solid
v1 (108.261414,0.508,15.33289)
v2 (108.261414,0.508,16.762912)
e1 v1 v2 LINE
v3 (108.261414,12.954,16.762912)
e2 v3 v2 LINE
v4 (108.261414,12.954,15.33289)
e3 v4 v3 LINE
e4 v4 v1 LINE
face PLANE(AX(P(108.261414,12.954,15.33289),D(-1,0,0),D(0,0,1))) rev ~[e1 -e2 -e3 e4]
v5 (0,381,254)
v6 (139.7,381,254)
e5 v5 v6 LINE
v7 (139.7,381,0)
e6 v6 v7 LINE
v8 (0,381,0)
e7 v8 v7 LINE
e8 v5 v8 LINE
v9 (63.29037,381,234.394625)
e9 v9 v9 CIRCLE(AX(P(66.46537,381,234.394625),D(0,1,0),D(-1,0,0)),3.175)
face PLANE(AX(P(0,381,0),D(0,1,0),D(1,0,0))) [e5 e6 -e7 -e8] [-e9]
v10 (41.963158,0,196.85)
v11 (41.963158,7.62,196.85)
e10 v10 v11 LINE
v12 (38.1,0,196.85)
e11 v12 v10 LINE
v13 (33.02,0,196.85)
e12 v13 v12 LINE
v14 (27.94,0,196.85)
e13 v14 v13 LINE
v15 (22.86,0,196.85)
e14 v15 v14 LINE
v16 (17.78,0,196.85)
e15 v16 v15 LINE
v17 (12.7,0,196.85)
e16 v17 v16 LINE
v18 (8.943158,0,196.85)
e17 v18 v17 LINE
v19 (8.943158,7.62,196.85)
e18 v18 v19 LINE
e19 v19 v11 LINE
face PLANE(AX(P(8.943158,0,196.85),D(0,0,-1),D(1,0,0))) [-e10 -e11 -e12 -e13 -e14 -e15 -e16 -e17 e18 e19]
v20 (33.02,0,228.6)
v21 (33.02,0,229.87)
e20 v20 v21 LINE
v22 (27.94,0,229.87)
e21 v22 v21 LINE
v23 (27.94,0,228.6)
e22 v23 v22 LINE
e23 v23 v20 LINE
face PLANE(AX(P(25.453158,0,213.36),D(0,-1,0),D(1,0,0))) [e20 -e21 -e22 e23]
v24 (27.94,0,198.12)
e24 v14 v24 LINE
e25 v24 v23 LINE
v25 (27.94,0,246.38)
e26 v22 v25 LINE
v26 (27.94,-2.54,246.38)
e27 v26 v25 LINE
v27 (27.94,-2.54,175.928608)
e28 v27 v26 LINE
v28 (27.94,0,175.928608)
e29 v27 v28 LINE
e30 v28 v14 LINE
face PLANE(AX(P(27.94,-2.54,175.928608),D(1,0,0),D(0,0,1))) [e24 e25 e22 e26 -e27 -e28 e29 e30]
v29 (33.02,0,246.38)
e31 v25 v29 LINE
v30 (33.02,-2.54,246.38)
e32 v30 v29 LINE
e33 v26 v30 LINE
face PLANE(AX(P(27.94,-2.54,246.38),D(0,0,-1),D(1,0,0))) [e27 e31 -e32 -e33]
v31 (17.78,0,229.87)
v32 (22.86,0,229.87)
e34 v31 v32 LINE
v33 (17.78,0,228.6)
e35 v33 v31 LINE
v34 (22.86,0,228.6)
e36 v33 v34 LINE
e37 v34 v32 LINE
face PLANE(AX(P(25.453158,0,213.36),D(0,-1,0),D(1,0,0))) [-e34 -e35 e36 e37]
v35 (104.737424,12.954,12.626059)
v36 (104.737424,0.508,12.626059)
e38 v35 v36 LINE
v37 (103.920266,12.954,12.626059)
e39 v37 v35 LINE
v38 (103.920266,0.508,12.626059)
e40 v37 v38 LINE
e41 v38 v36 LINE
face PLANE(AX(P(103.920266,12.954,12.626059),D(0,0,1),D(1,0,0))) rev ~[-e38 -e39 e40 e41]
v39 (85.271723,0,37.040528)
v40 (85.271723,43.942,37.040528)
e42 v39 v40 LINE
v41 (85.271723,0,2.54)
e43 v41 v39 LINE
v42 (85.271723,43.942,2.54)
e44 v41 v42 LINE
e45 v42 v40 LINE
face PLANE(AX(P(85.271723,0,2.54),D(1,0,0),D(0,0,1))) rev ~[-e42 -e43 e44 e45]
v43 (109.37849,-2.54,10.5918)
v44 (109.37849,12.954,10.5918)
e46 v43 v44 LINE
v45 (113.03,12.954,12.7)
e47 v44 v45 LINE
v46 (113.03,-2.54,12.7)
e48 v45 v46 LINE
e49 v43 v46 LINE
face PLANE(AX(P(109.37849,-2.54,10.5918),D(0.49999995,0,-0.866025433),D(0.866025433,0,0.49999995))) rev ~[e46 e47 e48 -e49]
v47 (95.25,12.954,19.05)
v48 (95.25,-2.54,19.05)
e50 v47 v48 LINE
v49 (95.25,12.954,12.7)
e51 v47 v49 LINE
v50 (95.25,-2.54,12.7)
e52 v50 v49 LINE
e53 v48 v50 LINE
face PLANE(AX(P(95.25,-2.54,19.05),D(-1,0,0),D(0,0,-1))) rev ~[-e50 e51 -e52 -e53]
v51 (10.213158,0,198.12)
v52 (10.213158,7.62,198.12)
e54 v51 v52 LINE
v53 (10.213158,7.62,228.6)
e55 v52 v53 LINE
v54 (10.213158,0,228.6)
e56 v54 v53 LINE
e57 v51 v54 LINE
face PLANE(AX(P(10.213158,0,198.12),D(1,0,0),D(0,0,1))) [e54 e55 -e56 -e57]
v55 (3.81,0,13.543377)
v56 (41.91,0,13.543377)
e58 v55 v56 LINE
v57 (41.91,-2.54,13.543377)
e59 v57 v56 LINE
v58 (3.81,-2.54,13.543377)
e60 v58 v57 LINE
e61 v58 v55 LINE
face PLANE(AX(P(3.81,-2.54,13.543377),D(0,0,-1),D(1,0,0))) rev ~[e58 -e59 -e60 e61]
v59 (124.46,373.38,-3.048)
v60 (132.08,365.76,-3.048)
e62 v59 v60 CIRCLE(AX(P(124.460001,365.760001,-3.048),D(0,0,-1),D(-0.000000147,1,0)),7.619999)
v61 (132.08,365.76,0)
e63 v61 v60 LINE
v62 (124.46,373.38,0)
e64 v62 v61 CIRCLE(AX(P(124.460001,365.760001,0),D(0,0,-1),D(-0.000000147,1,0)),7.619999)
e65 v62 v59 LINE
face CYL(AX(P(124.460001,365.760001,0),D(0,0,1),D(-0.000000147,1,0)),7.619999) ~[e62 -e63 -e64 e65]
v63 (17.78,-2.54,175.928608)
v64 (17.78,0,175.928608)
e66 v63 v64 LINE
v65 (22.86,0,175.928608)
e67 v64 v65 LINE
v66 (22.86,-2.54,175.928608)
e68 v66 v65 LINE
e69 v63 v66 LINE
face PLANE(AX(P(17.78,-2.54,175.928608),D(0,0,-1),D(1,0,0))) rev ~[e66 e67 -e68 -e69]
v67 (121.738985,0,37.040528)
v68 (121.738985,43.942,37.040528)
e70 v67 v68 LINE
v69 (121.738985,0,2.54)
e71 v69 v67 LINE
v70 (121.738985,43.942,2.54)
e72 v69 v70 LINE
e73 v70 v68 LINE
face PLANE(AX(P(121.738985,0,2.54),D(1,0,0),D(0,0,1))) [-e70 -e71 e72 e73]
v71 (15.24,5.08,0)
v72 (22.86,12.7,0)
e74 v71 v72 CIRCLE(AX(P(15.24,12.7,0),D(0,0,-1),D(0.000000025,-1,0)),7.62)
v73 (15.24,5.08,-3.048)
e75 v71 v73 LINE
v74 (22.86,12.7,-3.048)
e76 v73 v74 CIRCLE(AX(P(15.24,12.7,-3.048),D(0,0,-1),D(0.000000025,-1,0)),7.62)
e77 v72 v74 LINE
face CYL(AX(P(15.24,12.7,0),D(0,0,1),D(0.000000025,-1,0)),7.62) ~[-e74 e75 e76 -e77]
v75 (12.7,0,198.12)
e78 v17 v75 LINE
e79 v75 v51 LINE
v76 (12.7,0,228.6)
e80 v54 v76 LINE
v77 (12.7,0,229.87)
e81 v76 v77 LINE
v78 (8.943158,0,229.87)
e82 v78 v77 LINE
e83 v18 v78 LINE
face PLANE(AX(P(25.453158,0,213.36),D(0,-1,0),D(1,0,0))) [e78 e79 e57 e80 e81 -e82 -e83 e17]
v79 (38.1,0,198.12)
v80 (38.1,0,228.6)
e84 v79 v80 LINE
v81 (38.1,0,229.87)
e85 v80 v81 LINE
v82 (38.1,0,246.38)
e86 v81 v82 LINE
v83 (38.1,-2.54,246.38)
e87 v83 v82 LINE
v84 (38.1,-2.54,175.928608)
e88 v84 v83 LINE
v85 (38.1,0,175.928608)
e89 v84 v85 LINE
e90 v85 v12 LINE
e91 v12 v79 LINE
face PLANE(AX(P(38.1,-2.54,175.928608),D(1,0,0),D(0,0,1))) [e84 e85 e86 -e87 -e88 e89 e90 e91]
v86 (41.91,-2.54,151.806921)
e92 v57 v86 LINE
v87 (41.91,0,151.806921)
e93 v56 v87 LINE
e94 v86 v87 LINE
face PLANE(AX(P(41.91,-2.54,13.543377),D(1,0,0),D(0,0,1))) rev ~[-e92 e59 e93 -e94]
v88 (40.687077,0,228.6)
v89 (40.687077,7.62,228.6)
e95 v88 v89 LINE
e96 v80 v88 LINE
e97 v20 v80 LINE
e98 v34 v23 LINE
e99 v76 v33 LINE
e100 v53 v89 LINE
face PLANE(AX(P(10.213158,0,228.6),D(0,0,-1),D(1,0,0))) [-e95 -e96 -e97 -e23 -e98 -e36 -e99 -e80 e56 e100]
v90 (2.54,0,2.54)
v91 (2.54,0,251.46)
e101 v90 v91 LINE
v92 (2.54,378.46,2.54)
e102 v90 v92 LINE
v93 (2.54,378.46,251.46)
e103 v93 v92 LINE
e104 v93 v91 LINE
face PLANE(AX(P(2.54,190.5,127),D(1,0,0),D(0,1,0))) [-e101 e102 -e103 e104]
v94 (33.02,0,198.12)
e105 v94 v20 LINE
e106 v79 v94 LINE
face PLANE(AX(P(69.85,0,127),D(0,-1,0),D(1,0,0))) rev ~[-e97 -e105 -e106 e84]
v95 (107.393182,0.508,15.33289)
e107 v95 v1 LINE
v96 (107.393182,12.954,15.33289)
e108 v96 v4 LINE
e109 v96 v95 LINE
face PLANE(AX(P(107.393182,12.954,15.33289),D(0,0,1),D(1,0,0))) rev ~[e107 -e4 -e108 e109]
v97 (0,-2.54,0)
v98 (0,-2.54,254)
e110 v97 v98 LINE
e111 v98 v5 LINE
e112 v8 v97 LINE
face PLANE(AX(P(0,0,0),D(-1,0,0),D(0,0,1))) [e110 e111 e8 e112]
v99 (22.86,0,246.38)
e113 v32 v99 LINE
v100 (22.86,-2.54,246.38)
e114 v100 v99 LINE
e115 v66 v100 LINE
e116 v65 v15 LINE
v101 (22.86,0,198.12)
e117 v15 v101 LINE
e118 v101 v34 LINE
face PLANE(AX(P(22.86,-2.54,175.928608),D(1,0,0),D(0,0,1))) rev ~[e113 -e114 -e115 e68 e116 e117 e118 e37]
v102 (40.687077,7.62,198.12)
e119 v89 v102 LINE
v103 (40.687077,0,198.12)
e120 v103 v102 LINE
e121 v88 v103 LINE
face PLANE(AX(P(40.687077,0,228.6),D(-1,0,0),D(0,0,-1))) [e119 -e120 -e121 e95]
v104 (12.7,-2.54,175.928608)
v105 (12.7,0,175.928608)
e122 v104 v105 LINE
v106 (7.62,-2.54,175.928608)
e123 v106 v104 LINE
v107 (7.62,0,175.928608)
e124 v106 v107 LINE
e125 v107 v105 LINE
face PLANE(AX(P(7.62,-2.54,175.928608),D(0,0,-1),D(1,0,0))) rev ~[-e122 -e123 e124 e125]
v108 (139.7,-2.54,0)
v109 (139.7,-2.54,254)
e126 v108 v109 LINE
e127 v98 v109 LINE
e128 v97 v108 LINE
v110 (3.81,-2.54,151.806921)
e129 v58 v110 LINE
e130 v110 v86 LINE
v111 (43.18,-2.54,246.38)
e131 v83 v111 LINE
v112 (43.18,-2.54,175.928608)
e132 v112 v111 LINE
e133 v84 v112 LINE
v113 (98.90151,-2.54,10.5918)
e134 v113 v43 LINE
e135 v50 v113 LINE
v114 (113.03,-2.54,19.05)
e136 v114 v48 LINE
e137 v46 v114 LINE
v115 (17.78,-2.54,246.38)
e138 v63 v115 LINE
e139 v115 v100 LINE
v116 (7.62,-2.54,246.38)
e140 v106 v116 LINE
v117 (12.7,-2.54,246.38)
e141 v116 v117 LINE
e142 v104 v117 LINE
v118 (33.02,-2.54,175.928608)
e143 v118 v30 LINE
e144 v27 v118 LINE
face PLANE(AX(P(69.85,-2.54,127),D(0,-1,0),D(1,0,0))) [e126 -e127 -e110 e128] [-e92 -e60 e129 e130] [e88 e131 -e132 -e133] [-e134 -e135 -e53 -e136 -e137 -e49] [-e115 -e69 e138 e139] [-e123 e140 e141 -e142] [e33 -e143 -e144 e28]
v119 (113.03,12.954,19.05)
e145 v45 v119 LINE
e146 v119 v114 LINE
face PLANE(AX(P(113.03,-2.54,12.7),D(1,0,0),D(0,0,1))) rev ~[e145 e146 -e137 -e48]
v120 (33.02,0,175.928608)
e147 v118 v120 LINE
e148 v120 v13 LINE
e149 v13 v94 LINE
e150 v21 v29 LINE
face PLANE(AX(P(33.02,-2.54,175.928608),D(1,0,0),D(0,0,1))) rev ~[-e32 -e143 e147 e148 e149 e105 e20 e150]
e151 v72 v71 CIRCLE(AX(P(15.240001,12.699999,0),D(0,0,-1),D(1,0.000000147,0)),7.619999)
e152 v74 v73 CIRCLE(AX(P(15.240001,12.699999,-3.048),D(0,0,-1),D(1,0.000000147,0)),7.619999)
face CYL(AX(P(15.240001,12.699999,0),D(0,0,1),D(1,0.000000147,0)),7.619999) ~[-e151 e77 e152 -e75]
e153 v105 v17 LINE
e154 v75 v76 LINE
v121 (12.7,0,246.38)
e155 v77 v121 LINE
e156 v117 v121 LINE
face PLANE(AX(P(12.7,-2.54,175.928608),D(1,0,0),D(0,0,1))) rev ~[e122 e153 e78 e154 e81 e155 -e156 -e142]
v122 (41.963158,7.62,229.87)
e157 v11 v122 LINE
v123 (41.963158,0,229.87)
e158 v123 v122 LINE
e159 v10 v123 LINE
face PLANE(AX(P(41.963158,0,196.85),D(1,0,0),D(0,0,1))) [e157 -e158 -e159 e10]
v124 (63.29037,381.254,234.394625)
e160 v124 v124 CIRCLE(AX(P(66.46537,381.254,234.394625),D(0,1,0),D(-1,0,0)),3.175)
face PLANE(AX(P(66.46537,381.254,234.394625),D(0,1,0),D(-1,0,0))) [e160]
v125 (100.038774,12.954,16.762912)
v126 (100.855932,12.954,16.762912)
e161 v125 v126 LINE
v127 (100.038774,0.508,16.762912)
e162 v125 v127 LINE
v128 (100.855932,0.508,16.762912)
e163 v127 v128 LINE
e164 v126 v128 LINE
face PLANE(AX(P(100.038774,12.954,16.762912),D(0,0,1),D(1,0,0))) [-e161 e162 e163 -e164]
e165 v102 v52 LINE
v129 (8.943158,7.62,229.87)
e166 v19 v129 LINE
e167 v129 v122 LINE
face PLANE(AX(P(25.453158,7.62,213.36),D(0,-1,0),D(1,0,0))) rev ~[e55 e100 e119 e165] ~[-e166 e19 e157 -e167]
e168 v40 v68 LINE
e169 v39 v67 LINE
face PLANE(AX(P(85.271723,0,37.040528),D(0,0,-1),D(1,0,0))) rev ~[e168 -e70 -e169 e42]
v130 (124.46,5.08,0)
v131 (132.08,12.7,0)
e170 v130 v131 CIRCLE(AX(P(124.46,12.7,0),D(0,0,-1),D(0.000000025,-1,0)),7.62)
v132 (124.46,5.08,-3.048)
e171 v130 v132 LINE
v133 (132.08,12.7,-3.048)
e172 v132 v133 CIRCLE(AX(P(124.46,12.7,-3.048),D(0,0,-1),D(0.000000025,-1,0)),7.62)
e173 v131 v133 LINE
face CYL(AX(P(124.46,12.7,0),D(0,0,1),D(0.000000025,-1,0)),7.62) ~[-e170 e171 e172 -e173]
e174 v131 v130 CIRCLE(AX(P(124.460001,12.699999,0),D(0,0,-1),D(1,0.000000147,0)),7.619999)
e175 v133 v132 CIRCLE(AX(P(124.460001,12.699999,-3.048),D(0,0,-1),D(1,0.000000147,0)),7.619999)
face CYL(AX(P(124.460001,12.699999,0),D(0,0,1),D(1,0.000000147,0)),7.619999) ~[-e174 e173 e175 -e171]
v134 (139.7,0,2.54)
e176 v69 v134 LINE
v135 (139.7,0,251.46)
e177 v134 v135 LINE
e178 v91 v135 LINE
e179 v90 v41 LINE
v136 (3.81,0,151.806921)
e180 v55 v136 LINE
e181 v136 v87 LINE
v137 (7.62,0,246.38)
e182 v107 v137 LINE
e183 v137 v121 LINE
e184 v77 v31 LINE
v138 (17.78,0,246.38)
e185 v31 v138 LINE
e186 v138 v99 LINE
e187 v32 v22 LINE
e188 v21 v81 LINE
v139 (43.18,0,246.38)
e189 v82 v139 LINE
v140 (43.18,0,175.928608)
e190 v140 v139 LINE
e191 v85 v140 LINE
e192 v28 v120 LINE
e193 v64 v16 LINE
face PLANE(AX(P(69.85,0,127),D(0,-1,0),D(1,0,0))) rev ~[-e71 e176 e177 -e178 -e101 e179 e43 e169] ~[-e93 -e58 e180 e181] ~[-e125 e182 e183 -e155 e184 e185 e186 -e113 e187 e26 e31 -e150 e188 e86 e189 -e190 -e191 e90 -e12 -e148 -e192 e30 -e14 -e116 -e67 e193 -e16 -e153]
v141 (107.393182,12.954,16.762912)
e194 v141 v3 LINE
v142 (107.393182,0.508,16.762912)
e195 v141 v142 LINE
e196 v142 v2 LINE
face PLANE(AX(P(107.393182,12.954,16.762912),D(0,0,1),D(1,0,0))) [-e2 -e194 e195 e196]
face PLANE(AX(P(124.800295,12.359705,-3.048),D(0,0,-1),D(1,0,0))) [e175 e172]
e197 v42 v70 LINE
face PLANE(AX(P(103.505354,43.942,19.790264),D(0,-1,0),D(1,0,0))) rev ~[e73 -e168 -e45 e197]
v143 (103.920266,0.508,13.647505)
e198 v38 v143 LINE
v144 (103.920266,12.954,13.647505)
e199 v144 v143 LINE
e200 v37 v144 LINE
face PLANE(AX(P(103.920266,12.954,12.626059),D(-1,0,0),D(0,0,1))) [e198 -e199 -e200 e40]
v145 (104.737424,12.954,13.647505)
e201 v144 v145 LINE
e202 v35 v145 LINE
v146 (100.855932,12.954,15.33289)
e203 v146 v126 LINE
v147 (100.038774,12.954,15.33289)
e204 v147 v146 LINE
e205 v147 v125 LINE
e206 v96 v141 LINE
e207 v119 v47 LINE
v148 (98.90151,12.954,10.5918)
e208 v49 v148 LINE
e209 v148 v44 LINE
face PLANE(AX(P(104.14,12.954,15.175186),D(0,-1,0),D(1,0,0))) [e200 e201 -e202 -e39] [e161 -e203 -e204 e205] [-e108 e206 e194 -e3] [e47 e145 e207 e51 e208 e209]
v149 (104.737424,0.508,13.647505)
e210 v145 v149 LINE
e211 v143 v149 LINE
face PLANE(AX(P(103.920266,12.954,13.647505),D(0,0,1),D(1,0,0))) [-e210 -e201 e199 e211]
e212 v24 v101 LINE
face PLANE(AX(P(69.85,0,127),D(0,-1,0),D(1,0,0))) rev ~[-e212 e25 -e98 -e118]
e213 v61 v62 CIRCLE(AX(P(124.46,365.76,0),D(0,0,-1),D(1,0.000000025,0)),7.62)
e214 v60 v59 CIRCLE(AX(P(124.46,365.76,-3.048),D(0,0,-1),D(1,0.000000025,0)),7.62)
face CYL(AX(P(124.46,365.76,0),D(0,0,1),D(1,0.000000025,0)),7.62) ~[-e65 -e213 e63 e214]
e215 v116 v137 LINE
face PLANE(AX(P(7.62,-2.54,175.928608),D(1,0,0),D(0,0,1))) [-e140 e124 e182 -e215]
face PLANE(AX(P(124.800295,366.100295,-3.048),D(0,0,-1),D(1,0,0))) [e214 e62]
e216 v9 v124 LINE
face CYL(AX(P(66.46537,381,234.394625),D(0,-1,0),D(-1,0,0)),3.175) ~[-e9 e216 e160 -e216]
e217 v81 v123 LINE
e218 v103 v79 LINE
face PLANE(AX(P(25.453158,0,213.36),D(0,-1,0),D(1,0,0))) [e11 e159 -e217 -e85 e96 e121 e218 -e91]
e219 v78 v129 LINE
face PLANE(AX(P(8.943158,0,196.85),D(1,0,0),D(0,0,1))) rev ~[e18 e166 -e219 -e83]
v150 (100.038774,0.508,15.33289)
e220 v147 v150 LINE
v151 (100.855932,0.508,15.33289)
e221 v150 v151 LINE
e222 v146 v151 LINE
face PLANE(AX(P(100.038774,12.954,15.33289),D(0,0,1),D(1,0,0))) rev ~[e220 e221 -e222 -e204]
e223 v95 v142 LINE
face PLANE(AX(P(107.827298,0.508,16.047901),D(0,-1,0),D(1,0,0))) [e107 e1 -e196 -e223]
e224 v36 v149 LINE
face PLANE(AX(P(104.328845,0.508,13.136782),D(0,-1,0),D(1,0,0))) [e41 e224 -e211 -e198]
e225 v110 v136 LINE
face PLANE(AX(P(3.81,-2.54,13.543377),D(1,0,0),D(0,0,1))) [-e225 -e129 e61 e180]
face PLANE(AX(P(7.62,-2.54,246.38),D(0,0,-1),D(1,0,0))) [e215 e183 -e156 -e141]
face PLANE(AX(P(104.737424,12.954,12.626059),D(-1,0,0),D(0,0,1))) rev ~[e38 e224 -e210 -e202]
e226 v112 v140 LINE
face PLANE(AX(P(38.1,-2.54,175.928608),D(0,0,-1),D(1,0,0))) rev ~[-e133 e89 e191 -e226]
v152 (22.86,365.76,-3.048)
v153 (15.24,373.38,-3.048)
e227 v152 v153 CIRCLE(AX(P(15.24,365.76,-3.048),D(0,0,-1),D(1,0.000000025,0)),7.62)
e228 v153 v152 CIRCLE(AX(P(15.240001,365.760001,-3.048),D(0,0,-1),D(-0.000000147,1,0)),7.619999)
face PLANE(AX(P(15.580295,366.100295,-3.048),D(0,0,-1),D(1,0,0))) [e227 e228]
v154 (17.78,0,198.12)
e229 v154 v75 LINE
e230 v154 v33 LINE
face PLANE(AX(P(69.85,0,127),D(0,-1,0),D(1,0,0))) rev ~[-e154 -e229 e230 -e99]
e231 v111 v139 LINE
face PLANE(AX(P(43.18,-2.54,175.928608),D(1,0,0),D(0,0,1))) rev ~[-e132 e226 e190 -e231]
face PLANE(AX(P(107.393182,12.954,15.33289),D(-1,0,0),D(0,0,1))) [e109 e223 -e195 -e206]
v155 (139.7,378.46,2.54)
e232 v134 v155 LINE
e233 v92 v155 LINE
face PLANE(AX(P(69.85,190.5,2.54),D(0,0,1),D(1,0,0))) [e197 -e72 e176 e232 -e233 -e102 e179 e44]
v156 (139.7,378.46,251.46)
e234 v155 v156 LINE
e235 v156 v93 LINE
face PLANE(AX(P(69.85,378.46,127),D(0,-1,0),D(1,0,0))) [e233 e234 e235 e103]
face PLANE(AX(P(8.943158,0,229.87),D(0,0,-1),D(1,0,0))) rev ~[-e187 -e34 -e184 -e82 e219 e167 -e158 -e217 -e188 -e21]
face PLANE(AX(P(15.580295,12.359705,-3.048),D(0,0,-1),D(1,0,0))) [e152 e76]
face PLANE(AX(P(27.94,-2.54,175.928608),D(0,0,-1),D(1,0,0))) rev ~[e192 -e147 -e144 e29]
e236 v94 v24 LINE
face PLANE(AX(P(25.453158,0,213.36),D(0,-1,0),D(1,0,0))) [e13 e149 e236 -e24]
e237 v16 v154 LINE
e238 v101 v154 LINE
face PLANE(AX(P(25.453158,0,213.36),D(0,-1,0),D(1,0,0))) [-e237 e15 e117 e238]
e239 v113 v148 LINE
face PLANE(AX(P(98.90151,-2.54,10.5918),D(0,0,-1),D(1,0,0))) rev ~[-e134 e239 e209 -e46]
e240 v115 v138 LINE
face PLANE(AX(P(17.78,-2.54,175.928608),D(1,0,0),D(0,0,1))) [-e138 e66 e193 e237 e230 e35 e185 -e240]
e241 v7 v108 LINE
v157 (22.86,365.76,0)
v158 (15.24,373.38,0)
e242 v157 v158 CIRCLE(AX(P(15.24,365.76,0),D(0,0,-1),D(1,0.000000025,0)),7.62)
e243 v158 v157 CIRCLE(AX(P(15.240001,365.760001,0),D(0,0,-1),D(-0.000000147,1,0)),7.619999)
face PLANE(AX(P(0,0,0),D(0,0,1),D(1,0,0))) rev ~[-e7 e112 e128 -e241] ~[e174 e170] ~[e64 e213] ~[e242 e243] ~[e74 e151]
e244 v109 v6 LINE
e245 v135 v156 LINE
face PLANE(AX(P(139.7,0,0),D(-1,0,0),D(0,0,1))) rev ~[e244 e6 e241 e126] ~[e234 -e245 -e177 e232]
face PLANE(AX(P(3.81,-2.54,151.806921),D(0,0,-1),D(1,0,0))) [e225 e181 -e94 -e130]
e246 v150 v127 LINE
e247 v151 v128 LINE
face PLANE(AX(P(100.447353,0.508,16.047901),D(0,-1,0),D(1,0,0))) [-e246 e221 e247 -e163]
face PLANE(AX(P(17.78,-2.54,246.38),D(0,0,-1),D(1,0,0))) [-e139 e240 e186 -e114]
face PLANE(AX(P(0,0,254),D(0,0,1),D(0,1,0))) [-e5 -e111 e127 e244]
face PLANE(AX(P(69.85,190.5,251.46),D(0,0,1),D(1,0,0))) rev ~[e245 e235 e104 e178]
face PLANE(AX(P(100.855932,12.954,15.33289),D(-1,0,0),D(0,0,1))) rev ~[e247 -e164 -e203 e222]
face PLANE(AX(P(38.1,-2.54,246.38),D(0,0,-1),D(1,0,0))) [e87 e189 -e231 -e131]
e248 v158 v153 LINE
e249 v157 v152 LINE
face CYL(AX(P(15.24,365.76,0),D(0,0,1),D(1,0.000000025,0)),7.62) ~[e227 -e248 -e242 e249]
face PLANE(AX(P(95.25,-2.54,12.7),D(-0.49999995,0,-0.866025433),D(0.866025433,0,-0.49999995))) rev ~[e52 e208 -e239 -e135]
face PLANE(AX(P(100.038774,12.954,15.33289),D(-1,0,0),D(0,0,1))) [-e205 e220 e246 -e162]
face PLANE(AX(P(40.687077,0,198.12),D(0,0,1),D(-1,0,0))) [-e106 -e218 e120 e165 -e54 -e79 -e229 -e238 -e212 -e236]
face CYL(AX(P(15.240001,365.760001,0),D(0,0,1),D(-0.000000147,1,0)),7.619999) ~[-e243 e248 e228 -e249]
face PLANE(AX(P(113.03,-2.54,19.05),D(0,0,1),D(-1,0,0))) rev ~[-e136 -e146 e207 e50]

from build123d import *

# Parameters (mm, degrees)
F0_W      = 139.7
F0_H      = 381
F1_DEPTH  = 2.54
F2_W      = 139.7
F2_H      = 254
F3_DEPTH  = 2.54
F4_W      = 381
F4_H      = 254
F5_DEPTH  = 2.54
F7_W      = 139.7
F7_H      = 254
F8_DEPTH  = 2.54
F10_W     = 139.7
F10_H     = 381
F11_DEPTH = 2.54
F12_W     = 5.08
F12_H     = 70.451392
F13_DEPTH = 2.54
F14_W     = 33.02
F14_H     = 33.02
F15_DEPTH = 7.62
F18_DEPTH = 2.54
F19_R     = 3.175
F20_DEPTH = 0.254
F22_DEPTH = 2.54
F24_DEPTH = 3.048
F25_W     = 38.1
F25_H     = 138.263544
F26_DEPTH = 2.54
F27_W     = 36.467261
F27_H     = 34.500528
F28_DEPTH = 43.942
F30_DEPTH = 12.954
F31_W     = 0.868231
F31_H     = 1.430023
F31_W_2   = 0.817157
F31_H_2   = 1.021446
F31_W_3   = 0.817158
F32_DEPTH = 12.446


with BuildPart() as f1:
    # F0 (on Top) → F1 (new body)
    with BuildSketch(Plane.XY):
        with Locations((69.85, 190.5)):
            Rectangle(F0_W, F0_H)
    extrude(amount=F1_DEPTH)

    # F2 (on Front) → F3 (join)
    with BuildSketch(Plane.XZ):
        with Locations((69.85, 127)):
            Rectangle(F2_W, F2_H)
    extrude(amount=F3_DEPTH)

    # F4 (on Right) → F5 (join)
    with BuildSketch(Plane.YZ):
        with Locations((190.5, 127)):
            Rectangle(F4_W, F4_H)
    extrude(amount=F5_DEPTH)

    # F7 (on offset) → F8 (join)
    with BuildSketch(Plane.XZ.offset(-381)):
        with Locations((69.85, 127)):
            Rectangle(F7_W, F7_H)
    extrude(amount=F8_DEPTH)

    # F10 (on offset) → F11 (join)
    with BuildSketch(Plane.XY.offset(254)):
        with Locations((69.85, 190.5)):
            Rectangle(F10_W, F10_H)
    extrude(amount=-F11_DEPTH)

    # F12 (on face) → F13 (cut)
    with BuildSketch(Plane.XZ.offset(2.54)):
        with Locations((40.64, 211.154304)):
            Rectangle(F12_W, F12_H)
        with Locations((30.48, 211.154304)):
            Rectangle(F12_W, F12_H)
        with Locations((20.32, 211.154304)):
            Rectangle(F12_W, F12_H)
        with Locations((10.16, 211.154304)):
            Rectangle(F12_W, F12_H)
    extrude(amount=-F13_DEPTH, mode=Mode.SUBTRACT)

    # F14 (on Front) → F15 (join)
    with BuildSketch(Plane.XZ):
        with Locations((25.453158, 213.36)):
            Rectangle(F14_W, F14_H)
        Polygon((10.213158, 228.6), (40.687077, 228.6), (40.687077, 198.12), (25.453158, 198.12), (10.213158, 198.12), align=None, mode=Mode.SUBTRACT)
    extrude(amount=-F15_DEPTH)

    # F17 (on offset) → F18 (cut)
    with BuildSketch(Plane.YZ.offset(139.7)):
        with BuildLine():
            Line((181.61, 234.763073), (181.61, 247.482779))
            ThreePointArc((181.61, 247.482779), (102.647567, 212.312433), (67.477221, 133.35))
            Line((67.477221, 133.35), (80.196927, 133.35))
            ThreePointArc((80.196927, 133.35), (111.627823, 203.332177), (181.61, 234.763073))
        make_face()
        with BuildLine():
            Line((181.61, 209.305407), (181.61, 222.038098))
            ThreePointArc((181.61, 222.038098), (120.608079, 194.351921), (92.921902, 133.35))
            Line((92.921902, 133.35), (105.654593, 133.35))
            ThreePointArc((105.654593, 133.35), (129.588335, 185.371665), (181.61, 209.305407))
        make_face()
        with BuildLine():
            Line((181.61, 183.796127), (181.61, 196.560765))
            ThreePointArc((181.61, 196.560765), (138.568591, 176.391409), (118.399235, 133.35))
            Line((118.399235, 133.35), (131.163873, 133.35))
            ThreePointArc((131.163873, 133.35), (147.548847, 167.411153), (181.61, 183.796127))
        make_face()
        with BuildLine():
            Line((181.61, 158.10852), (181.61, 170.994091))
            ThreePointArc((181.61, 170.994091), (156.529104, 158.430896), (143.965909, 133.35))
            Line((143.965909, 133.35), (156.85148, 133.35))
            ThreePointArc((156.85148, 133.35), (165.50936, 149.45064), (181.61, 158.10852))
        make_face()
        with BuildLine():
            Line((181.61, 133.35), (181.61, 144.960512))
            ThreePointArc((181.61, 144.960512), (174.489616, 140.470384), (169.999488, 133.35))
            Line((169.999488, 133.35), (181.61, 133.35))
        make_face()
        with BuildLine():
            Line((194.31, 133.35), (205.920512, 133.35))
            ThreePointArc((205.920512, 133.35), (201.430384, 140.470384), (194.31, 144.960512))
            Line((194.31, 144.960512), (194.31, 133.35))
        make_face()
        with BuildLine():
            Line((219.06852, 133.35), (231.954091, 133.35))
            ThreePointArc((231.954091, 133.35), (219.390896, 158.430896), (194.31, 170.994091))
            Line((194.31, 170.994091), (194.31, 158.10852))
            ThreePointArc((194.31, 158.10852), (210.41064, 149.45064), (219.06852, 133.35))
        make_face()
        with BuildLine():
            Line((244.756127, 133.35), (257.520765, 133.35))
            ThreePointArc((257.520765, 133.35), (237.351409, 176.391409), (194.31, 196.560765))
            Line((194.31, 196.560765), (194.31, 183.796127))
            ThreePointArc((194.31, 183.796127), (228.371153, 167.411153), (244.756127, 133.35))
        make_face()
        with BuildLine():
            Line((270.265407, 133.35), (282.998098, 133.35))
            ThreePointArc((282.998098, 133.35), (255.311921, 194.351921), (194.31, 222.038098))
            Line((194.31, 222.038098), (194.31, 209.305407))
            ThreePointArc((194.31, 209.305407), (246.331665, 185.371665), (270.265407, 133.35))
        make_face()
        with BuildLine():
            Line((295.723073, 133.35), (308.442779, 133.35))
            ThreePointArc((308.442779, 133.35), (273.272433, 212.312433), (194.31, 247.482779))
            Line((194.31, 247.482779), (194.31, 234.763073))
            ThreePointArc((194.31, 234.763073), (264.292177, 203.332177), (295.723073, 133.35))
        make_face()
        with BuildLine():
            ThreePointArc((194.31, 6.517221), (273.272433, 41.687567), (308.442779, 120.65))
            Line((308.442779, 120.65), (295.723073, 120.65))
            ThreePointArc((295.723073, 120.65), (264.292177, 50.667823), (194.31, 19.236927))
            Line((194.31, 19.236927), (194.31, 6.517221))
        make_face()
        with BuildLine():
            ThreePointArc((194.31, 31.961902), (255.311921, 59.648079), (282.998098, 120.65))
            Line((282.998098, 120.65), (270.265407, 120.65))
            ThreePointArc((270.265407, 120.65), (246.331665, 68.628335), (194.31, 44.694593))
            Line((194.31, 44.694593), (194.31, 31.961902))
        make_face()
        with BuildLine():
            ThreePointArc((194.31, 57.439235), (237.351409, 77.608591), (257.520765, 120.65))
            Line((257.520765, 120.65), (244.756127, 120.65))
            ThreePointArc((244.756127, 120.65), (228.371153, 86.588847), (194.31, 70.203873))
            Line((194.31, 70.203873), (194.31, 57.439235))
        make_face()
        with BuildLine():
            ThreePointArc((194.31, 83.005909), (219.390896, 95.569104), (231.954091, 120.65))
            Line((231.954091, 120.65), (219.06852, 120.65))
            ThreePointArc((219.06852, 120.65), (210.41064, 104.54936), (194.31, 95.89148))
            Line((194.31, 95.89148), (194.31, 83.005909))
        make_face()
        with BuildLine():
            ThreePointArc((194.31, 109.039488), (201.430384, 113.529616), (205.920512, 120.65))
            Line((205.920512, 120.65), (194.31, 120.65))
            Line((194.31, 120.65), (194.31, 109.039488))
        make_face()
        with BuildLine():
            ThreePointArc((67.477221, 120.65), (102.647567, 41.687567), (181.61, 6.517221))
            Line((181.61, 6.517221), (181.61, 19.236927))
            ThreePointArc((181.61, 19.236927), (111.627823, 50.667823), (80.196927, 120.65))
            Line((80.196927, 120.65), (67.477221, 120.65))
        make_face()
        with BuildLine():
            ThreePointArc((92.921902, 120.65), (120.608079, 59.648079), (181.61, 31.961902))
            Line((181.61, 31.961902), (181.61, 44.694593))
            ThreePointArc((181.61, 44.694593), (129.588335, 68.628335), (105.654593, 120.65))
            Line((105.654593, 120.65), (92.921902, 120.65))
        make_face()
        with BuildLine():
            ThreePointArc((118.399235, 120.65), (138.568591, 77.608591), (181.61, 57.439235))
            Line((181.61, 57.439235), (181.61, 70.203873))
            ThreePointArc((181.61, 70.203873), (147.548847, 86.588847), (131.163873, 120.65))
            Line((131.163873, 120.65), (118.399235, 120.65))
        make_face()
        with BuildLine():
            ThreePointArc((143.965909, 120.65), (156.529104, 95.569104), (181.61, 83.005909))
            Line((181.61, 83.005909), (181.61, 95.89148))
            ThreePointArc((181.61, 95.89148), (165.50936, 104.54936), (156.85148, 120.65))
            Line((156.85148, 120.65), (143.965909, 120.65))
        make_face()
        with BuildLine():
            ThreePointArc((169.999488, 120.65), (174.489616, 113.529616), (181.61, 109.039488))
            Line((181.61, 109.039488), (181.61, 120.65))
            Line((181.61, 120.65), (169.999488, 120.65))
        make_face()
    extrude(amount=-F18_DEPTH, mode=Mode.SUBTRACT)

    # F19 (on face) → F20 (join)
    with BuildSketch(Plane(origin=(0, 381, 0), x_dir=(-1, 0, 0), z_dir=(0, 1, 0))):
        with Locations((-66.46537, 234.394625)):
            Circle(F19_R)
    extrude(amount=F20_DEPTH)

    # F21 (on face) → F22 (cut)
    with BuildSketch(Plane.XZ.offset(2.54)):
        Polygon((95.25, 19.05), (95.25, 12.7), (98.90151, 10.5918), (109.37849, 10.5918), (113.03, 12.7), (113.03, 19.05), align=None)
    extrude(amount=-F22_DEPTH, mode=Mode.SUBTRACT)

    # F23 (on face) → F24 (join)
    with BuildSketch(Plane(origin=(0, 0, 0), x_dir=(1, 0, 0), z_dir=(0, 0, -1))):
        with BuildLine():
            ThreePointArc((22.86, -365.76), (9.851846, -360.371846), (15.24, -373.38))
            ThreePointArc((15.24, -373.38), (20.628154, -371.148154), (22.86, -365.76))
        make_face()
        with BuildLine():
            ThreePointArc((132.08, -365.76), (119.071846, -360.371846), (124.46, -373.38))
            ThreePointArc((124.46, -373.38), (129.848154, -371.148154), (132.08, -365.76))
        make_face()
        with BuildLine():
            ThreePointArc((132.08, -12.7), (129.848154, -7.311846), (124.46, -5.08))
            ThreePointArc((124.46, -5.08), (119.071846, -18.088154), (132.08, -12.7))
        make_face()
        with BuildLine():
            ThreePointArc((22.86, -12.7), (20.628154, -7.311846), (15.24, -5.08))
            ThreePointArc((15.24, -5.08), (9.851846, -18.088154), (22.86, -12.7))
        make_face()
    extrude(amount=F24_DEPTH)

    # F25 (on face) → F26 (cut)
    with BuildSketch(Plane.XZ.offset(2.54)):
        with Locations((22.86, 82.675149)):
            Rectangle(F25_W, F25_H)
    extrude(amount=-F26_DEPTH, mode=Mode.SUBTRACT)

    # F27 (on Front) → F28 (join)
    with BuildSketch(Plane.XZ):
        with Locations((103.505354, 19.790264)):
            Rectangle(F27_W, F27_H)
    extrude(amount=-F28_DEPTH)

    # F29 (on face) → F30 (cut)
    with BuildSketch(Plane.XZ):
        Polygon((113.03, 12.7), (113.03, 19.05), (95.25, 19.05), (95.25, 12.7), (98.90151, 10.5918), (109.37849, 10.5918), align=None)
    extrude(amount=-F30_DEPTH, mode=Mode.SUBTRACT)

    # F31 (on face) → F32 (join)
    with BuildSketch(Plane.XZ.offset(-12.954)):
        with Locations((107.827298, 16.047901)):
            Rectangle(F31_W, F31_H)
        with Locations((104.328845, 13.136782)):
            Rectangle(F31_W_2, F31_H_2)
        with Locations((100.447353, 16.047901)):
            Rectangle(F31_W_3, F31_H)
    extrude(amount=F32_DEPTH)


solid = f1.part
